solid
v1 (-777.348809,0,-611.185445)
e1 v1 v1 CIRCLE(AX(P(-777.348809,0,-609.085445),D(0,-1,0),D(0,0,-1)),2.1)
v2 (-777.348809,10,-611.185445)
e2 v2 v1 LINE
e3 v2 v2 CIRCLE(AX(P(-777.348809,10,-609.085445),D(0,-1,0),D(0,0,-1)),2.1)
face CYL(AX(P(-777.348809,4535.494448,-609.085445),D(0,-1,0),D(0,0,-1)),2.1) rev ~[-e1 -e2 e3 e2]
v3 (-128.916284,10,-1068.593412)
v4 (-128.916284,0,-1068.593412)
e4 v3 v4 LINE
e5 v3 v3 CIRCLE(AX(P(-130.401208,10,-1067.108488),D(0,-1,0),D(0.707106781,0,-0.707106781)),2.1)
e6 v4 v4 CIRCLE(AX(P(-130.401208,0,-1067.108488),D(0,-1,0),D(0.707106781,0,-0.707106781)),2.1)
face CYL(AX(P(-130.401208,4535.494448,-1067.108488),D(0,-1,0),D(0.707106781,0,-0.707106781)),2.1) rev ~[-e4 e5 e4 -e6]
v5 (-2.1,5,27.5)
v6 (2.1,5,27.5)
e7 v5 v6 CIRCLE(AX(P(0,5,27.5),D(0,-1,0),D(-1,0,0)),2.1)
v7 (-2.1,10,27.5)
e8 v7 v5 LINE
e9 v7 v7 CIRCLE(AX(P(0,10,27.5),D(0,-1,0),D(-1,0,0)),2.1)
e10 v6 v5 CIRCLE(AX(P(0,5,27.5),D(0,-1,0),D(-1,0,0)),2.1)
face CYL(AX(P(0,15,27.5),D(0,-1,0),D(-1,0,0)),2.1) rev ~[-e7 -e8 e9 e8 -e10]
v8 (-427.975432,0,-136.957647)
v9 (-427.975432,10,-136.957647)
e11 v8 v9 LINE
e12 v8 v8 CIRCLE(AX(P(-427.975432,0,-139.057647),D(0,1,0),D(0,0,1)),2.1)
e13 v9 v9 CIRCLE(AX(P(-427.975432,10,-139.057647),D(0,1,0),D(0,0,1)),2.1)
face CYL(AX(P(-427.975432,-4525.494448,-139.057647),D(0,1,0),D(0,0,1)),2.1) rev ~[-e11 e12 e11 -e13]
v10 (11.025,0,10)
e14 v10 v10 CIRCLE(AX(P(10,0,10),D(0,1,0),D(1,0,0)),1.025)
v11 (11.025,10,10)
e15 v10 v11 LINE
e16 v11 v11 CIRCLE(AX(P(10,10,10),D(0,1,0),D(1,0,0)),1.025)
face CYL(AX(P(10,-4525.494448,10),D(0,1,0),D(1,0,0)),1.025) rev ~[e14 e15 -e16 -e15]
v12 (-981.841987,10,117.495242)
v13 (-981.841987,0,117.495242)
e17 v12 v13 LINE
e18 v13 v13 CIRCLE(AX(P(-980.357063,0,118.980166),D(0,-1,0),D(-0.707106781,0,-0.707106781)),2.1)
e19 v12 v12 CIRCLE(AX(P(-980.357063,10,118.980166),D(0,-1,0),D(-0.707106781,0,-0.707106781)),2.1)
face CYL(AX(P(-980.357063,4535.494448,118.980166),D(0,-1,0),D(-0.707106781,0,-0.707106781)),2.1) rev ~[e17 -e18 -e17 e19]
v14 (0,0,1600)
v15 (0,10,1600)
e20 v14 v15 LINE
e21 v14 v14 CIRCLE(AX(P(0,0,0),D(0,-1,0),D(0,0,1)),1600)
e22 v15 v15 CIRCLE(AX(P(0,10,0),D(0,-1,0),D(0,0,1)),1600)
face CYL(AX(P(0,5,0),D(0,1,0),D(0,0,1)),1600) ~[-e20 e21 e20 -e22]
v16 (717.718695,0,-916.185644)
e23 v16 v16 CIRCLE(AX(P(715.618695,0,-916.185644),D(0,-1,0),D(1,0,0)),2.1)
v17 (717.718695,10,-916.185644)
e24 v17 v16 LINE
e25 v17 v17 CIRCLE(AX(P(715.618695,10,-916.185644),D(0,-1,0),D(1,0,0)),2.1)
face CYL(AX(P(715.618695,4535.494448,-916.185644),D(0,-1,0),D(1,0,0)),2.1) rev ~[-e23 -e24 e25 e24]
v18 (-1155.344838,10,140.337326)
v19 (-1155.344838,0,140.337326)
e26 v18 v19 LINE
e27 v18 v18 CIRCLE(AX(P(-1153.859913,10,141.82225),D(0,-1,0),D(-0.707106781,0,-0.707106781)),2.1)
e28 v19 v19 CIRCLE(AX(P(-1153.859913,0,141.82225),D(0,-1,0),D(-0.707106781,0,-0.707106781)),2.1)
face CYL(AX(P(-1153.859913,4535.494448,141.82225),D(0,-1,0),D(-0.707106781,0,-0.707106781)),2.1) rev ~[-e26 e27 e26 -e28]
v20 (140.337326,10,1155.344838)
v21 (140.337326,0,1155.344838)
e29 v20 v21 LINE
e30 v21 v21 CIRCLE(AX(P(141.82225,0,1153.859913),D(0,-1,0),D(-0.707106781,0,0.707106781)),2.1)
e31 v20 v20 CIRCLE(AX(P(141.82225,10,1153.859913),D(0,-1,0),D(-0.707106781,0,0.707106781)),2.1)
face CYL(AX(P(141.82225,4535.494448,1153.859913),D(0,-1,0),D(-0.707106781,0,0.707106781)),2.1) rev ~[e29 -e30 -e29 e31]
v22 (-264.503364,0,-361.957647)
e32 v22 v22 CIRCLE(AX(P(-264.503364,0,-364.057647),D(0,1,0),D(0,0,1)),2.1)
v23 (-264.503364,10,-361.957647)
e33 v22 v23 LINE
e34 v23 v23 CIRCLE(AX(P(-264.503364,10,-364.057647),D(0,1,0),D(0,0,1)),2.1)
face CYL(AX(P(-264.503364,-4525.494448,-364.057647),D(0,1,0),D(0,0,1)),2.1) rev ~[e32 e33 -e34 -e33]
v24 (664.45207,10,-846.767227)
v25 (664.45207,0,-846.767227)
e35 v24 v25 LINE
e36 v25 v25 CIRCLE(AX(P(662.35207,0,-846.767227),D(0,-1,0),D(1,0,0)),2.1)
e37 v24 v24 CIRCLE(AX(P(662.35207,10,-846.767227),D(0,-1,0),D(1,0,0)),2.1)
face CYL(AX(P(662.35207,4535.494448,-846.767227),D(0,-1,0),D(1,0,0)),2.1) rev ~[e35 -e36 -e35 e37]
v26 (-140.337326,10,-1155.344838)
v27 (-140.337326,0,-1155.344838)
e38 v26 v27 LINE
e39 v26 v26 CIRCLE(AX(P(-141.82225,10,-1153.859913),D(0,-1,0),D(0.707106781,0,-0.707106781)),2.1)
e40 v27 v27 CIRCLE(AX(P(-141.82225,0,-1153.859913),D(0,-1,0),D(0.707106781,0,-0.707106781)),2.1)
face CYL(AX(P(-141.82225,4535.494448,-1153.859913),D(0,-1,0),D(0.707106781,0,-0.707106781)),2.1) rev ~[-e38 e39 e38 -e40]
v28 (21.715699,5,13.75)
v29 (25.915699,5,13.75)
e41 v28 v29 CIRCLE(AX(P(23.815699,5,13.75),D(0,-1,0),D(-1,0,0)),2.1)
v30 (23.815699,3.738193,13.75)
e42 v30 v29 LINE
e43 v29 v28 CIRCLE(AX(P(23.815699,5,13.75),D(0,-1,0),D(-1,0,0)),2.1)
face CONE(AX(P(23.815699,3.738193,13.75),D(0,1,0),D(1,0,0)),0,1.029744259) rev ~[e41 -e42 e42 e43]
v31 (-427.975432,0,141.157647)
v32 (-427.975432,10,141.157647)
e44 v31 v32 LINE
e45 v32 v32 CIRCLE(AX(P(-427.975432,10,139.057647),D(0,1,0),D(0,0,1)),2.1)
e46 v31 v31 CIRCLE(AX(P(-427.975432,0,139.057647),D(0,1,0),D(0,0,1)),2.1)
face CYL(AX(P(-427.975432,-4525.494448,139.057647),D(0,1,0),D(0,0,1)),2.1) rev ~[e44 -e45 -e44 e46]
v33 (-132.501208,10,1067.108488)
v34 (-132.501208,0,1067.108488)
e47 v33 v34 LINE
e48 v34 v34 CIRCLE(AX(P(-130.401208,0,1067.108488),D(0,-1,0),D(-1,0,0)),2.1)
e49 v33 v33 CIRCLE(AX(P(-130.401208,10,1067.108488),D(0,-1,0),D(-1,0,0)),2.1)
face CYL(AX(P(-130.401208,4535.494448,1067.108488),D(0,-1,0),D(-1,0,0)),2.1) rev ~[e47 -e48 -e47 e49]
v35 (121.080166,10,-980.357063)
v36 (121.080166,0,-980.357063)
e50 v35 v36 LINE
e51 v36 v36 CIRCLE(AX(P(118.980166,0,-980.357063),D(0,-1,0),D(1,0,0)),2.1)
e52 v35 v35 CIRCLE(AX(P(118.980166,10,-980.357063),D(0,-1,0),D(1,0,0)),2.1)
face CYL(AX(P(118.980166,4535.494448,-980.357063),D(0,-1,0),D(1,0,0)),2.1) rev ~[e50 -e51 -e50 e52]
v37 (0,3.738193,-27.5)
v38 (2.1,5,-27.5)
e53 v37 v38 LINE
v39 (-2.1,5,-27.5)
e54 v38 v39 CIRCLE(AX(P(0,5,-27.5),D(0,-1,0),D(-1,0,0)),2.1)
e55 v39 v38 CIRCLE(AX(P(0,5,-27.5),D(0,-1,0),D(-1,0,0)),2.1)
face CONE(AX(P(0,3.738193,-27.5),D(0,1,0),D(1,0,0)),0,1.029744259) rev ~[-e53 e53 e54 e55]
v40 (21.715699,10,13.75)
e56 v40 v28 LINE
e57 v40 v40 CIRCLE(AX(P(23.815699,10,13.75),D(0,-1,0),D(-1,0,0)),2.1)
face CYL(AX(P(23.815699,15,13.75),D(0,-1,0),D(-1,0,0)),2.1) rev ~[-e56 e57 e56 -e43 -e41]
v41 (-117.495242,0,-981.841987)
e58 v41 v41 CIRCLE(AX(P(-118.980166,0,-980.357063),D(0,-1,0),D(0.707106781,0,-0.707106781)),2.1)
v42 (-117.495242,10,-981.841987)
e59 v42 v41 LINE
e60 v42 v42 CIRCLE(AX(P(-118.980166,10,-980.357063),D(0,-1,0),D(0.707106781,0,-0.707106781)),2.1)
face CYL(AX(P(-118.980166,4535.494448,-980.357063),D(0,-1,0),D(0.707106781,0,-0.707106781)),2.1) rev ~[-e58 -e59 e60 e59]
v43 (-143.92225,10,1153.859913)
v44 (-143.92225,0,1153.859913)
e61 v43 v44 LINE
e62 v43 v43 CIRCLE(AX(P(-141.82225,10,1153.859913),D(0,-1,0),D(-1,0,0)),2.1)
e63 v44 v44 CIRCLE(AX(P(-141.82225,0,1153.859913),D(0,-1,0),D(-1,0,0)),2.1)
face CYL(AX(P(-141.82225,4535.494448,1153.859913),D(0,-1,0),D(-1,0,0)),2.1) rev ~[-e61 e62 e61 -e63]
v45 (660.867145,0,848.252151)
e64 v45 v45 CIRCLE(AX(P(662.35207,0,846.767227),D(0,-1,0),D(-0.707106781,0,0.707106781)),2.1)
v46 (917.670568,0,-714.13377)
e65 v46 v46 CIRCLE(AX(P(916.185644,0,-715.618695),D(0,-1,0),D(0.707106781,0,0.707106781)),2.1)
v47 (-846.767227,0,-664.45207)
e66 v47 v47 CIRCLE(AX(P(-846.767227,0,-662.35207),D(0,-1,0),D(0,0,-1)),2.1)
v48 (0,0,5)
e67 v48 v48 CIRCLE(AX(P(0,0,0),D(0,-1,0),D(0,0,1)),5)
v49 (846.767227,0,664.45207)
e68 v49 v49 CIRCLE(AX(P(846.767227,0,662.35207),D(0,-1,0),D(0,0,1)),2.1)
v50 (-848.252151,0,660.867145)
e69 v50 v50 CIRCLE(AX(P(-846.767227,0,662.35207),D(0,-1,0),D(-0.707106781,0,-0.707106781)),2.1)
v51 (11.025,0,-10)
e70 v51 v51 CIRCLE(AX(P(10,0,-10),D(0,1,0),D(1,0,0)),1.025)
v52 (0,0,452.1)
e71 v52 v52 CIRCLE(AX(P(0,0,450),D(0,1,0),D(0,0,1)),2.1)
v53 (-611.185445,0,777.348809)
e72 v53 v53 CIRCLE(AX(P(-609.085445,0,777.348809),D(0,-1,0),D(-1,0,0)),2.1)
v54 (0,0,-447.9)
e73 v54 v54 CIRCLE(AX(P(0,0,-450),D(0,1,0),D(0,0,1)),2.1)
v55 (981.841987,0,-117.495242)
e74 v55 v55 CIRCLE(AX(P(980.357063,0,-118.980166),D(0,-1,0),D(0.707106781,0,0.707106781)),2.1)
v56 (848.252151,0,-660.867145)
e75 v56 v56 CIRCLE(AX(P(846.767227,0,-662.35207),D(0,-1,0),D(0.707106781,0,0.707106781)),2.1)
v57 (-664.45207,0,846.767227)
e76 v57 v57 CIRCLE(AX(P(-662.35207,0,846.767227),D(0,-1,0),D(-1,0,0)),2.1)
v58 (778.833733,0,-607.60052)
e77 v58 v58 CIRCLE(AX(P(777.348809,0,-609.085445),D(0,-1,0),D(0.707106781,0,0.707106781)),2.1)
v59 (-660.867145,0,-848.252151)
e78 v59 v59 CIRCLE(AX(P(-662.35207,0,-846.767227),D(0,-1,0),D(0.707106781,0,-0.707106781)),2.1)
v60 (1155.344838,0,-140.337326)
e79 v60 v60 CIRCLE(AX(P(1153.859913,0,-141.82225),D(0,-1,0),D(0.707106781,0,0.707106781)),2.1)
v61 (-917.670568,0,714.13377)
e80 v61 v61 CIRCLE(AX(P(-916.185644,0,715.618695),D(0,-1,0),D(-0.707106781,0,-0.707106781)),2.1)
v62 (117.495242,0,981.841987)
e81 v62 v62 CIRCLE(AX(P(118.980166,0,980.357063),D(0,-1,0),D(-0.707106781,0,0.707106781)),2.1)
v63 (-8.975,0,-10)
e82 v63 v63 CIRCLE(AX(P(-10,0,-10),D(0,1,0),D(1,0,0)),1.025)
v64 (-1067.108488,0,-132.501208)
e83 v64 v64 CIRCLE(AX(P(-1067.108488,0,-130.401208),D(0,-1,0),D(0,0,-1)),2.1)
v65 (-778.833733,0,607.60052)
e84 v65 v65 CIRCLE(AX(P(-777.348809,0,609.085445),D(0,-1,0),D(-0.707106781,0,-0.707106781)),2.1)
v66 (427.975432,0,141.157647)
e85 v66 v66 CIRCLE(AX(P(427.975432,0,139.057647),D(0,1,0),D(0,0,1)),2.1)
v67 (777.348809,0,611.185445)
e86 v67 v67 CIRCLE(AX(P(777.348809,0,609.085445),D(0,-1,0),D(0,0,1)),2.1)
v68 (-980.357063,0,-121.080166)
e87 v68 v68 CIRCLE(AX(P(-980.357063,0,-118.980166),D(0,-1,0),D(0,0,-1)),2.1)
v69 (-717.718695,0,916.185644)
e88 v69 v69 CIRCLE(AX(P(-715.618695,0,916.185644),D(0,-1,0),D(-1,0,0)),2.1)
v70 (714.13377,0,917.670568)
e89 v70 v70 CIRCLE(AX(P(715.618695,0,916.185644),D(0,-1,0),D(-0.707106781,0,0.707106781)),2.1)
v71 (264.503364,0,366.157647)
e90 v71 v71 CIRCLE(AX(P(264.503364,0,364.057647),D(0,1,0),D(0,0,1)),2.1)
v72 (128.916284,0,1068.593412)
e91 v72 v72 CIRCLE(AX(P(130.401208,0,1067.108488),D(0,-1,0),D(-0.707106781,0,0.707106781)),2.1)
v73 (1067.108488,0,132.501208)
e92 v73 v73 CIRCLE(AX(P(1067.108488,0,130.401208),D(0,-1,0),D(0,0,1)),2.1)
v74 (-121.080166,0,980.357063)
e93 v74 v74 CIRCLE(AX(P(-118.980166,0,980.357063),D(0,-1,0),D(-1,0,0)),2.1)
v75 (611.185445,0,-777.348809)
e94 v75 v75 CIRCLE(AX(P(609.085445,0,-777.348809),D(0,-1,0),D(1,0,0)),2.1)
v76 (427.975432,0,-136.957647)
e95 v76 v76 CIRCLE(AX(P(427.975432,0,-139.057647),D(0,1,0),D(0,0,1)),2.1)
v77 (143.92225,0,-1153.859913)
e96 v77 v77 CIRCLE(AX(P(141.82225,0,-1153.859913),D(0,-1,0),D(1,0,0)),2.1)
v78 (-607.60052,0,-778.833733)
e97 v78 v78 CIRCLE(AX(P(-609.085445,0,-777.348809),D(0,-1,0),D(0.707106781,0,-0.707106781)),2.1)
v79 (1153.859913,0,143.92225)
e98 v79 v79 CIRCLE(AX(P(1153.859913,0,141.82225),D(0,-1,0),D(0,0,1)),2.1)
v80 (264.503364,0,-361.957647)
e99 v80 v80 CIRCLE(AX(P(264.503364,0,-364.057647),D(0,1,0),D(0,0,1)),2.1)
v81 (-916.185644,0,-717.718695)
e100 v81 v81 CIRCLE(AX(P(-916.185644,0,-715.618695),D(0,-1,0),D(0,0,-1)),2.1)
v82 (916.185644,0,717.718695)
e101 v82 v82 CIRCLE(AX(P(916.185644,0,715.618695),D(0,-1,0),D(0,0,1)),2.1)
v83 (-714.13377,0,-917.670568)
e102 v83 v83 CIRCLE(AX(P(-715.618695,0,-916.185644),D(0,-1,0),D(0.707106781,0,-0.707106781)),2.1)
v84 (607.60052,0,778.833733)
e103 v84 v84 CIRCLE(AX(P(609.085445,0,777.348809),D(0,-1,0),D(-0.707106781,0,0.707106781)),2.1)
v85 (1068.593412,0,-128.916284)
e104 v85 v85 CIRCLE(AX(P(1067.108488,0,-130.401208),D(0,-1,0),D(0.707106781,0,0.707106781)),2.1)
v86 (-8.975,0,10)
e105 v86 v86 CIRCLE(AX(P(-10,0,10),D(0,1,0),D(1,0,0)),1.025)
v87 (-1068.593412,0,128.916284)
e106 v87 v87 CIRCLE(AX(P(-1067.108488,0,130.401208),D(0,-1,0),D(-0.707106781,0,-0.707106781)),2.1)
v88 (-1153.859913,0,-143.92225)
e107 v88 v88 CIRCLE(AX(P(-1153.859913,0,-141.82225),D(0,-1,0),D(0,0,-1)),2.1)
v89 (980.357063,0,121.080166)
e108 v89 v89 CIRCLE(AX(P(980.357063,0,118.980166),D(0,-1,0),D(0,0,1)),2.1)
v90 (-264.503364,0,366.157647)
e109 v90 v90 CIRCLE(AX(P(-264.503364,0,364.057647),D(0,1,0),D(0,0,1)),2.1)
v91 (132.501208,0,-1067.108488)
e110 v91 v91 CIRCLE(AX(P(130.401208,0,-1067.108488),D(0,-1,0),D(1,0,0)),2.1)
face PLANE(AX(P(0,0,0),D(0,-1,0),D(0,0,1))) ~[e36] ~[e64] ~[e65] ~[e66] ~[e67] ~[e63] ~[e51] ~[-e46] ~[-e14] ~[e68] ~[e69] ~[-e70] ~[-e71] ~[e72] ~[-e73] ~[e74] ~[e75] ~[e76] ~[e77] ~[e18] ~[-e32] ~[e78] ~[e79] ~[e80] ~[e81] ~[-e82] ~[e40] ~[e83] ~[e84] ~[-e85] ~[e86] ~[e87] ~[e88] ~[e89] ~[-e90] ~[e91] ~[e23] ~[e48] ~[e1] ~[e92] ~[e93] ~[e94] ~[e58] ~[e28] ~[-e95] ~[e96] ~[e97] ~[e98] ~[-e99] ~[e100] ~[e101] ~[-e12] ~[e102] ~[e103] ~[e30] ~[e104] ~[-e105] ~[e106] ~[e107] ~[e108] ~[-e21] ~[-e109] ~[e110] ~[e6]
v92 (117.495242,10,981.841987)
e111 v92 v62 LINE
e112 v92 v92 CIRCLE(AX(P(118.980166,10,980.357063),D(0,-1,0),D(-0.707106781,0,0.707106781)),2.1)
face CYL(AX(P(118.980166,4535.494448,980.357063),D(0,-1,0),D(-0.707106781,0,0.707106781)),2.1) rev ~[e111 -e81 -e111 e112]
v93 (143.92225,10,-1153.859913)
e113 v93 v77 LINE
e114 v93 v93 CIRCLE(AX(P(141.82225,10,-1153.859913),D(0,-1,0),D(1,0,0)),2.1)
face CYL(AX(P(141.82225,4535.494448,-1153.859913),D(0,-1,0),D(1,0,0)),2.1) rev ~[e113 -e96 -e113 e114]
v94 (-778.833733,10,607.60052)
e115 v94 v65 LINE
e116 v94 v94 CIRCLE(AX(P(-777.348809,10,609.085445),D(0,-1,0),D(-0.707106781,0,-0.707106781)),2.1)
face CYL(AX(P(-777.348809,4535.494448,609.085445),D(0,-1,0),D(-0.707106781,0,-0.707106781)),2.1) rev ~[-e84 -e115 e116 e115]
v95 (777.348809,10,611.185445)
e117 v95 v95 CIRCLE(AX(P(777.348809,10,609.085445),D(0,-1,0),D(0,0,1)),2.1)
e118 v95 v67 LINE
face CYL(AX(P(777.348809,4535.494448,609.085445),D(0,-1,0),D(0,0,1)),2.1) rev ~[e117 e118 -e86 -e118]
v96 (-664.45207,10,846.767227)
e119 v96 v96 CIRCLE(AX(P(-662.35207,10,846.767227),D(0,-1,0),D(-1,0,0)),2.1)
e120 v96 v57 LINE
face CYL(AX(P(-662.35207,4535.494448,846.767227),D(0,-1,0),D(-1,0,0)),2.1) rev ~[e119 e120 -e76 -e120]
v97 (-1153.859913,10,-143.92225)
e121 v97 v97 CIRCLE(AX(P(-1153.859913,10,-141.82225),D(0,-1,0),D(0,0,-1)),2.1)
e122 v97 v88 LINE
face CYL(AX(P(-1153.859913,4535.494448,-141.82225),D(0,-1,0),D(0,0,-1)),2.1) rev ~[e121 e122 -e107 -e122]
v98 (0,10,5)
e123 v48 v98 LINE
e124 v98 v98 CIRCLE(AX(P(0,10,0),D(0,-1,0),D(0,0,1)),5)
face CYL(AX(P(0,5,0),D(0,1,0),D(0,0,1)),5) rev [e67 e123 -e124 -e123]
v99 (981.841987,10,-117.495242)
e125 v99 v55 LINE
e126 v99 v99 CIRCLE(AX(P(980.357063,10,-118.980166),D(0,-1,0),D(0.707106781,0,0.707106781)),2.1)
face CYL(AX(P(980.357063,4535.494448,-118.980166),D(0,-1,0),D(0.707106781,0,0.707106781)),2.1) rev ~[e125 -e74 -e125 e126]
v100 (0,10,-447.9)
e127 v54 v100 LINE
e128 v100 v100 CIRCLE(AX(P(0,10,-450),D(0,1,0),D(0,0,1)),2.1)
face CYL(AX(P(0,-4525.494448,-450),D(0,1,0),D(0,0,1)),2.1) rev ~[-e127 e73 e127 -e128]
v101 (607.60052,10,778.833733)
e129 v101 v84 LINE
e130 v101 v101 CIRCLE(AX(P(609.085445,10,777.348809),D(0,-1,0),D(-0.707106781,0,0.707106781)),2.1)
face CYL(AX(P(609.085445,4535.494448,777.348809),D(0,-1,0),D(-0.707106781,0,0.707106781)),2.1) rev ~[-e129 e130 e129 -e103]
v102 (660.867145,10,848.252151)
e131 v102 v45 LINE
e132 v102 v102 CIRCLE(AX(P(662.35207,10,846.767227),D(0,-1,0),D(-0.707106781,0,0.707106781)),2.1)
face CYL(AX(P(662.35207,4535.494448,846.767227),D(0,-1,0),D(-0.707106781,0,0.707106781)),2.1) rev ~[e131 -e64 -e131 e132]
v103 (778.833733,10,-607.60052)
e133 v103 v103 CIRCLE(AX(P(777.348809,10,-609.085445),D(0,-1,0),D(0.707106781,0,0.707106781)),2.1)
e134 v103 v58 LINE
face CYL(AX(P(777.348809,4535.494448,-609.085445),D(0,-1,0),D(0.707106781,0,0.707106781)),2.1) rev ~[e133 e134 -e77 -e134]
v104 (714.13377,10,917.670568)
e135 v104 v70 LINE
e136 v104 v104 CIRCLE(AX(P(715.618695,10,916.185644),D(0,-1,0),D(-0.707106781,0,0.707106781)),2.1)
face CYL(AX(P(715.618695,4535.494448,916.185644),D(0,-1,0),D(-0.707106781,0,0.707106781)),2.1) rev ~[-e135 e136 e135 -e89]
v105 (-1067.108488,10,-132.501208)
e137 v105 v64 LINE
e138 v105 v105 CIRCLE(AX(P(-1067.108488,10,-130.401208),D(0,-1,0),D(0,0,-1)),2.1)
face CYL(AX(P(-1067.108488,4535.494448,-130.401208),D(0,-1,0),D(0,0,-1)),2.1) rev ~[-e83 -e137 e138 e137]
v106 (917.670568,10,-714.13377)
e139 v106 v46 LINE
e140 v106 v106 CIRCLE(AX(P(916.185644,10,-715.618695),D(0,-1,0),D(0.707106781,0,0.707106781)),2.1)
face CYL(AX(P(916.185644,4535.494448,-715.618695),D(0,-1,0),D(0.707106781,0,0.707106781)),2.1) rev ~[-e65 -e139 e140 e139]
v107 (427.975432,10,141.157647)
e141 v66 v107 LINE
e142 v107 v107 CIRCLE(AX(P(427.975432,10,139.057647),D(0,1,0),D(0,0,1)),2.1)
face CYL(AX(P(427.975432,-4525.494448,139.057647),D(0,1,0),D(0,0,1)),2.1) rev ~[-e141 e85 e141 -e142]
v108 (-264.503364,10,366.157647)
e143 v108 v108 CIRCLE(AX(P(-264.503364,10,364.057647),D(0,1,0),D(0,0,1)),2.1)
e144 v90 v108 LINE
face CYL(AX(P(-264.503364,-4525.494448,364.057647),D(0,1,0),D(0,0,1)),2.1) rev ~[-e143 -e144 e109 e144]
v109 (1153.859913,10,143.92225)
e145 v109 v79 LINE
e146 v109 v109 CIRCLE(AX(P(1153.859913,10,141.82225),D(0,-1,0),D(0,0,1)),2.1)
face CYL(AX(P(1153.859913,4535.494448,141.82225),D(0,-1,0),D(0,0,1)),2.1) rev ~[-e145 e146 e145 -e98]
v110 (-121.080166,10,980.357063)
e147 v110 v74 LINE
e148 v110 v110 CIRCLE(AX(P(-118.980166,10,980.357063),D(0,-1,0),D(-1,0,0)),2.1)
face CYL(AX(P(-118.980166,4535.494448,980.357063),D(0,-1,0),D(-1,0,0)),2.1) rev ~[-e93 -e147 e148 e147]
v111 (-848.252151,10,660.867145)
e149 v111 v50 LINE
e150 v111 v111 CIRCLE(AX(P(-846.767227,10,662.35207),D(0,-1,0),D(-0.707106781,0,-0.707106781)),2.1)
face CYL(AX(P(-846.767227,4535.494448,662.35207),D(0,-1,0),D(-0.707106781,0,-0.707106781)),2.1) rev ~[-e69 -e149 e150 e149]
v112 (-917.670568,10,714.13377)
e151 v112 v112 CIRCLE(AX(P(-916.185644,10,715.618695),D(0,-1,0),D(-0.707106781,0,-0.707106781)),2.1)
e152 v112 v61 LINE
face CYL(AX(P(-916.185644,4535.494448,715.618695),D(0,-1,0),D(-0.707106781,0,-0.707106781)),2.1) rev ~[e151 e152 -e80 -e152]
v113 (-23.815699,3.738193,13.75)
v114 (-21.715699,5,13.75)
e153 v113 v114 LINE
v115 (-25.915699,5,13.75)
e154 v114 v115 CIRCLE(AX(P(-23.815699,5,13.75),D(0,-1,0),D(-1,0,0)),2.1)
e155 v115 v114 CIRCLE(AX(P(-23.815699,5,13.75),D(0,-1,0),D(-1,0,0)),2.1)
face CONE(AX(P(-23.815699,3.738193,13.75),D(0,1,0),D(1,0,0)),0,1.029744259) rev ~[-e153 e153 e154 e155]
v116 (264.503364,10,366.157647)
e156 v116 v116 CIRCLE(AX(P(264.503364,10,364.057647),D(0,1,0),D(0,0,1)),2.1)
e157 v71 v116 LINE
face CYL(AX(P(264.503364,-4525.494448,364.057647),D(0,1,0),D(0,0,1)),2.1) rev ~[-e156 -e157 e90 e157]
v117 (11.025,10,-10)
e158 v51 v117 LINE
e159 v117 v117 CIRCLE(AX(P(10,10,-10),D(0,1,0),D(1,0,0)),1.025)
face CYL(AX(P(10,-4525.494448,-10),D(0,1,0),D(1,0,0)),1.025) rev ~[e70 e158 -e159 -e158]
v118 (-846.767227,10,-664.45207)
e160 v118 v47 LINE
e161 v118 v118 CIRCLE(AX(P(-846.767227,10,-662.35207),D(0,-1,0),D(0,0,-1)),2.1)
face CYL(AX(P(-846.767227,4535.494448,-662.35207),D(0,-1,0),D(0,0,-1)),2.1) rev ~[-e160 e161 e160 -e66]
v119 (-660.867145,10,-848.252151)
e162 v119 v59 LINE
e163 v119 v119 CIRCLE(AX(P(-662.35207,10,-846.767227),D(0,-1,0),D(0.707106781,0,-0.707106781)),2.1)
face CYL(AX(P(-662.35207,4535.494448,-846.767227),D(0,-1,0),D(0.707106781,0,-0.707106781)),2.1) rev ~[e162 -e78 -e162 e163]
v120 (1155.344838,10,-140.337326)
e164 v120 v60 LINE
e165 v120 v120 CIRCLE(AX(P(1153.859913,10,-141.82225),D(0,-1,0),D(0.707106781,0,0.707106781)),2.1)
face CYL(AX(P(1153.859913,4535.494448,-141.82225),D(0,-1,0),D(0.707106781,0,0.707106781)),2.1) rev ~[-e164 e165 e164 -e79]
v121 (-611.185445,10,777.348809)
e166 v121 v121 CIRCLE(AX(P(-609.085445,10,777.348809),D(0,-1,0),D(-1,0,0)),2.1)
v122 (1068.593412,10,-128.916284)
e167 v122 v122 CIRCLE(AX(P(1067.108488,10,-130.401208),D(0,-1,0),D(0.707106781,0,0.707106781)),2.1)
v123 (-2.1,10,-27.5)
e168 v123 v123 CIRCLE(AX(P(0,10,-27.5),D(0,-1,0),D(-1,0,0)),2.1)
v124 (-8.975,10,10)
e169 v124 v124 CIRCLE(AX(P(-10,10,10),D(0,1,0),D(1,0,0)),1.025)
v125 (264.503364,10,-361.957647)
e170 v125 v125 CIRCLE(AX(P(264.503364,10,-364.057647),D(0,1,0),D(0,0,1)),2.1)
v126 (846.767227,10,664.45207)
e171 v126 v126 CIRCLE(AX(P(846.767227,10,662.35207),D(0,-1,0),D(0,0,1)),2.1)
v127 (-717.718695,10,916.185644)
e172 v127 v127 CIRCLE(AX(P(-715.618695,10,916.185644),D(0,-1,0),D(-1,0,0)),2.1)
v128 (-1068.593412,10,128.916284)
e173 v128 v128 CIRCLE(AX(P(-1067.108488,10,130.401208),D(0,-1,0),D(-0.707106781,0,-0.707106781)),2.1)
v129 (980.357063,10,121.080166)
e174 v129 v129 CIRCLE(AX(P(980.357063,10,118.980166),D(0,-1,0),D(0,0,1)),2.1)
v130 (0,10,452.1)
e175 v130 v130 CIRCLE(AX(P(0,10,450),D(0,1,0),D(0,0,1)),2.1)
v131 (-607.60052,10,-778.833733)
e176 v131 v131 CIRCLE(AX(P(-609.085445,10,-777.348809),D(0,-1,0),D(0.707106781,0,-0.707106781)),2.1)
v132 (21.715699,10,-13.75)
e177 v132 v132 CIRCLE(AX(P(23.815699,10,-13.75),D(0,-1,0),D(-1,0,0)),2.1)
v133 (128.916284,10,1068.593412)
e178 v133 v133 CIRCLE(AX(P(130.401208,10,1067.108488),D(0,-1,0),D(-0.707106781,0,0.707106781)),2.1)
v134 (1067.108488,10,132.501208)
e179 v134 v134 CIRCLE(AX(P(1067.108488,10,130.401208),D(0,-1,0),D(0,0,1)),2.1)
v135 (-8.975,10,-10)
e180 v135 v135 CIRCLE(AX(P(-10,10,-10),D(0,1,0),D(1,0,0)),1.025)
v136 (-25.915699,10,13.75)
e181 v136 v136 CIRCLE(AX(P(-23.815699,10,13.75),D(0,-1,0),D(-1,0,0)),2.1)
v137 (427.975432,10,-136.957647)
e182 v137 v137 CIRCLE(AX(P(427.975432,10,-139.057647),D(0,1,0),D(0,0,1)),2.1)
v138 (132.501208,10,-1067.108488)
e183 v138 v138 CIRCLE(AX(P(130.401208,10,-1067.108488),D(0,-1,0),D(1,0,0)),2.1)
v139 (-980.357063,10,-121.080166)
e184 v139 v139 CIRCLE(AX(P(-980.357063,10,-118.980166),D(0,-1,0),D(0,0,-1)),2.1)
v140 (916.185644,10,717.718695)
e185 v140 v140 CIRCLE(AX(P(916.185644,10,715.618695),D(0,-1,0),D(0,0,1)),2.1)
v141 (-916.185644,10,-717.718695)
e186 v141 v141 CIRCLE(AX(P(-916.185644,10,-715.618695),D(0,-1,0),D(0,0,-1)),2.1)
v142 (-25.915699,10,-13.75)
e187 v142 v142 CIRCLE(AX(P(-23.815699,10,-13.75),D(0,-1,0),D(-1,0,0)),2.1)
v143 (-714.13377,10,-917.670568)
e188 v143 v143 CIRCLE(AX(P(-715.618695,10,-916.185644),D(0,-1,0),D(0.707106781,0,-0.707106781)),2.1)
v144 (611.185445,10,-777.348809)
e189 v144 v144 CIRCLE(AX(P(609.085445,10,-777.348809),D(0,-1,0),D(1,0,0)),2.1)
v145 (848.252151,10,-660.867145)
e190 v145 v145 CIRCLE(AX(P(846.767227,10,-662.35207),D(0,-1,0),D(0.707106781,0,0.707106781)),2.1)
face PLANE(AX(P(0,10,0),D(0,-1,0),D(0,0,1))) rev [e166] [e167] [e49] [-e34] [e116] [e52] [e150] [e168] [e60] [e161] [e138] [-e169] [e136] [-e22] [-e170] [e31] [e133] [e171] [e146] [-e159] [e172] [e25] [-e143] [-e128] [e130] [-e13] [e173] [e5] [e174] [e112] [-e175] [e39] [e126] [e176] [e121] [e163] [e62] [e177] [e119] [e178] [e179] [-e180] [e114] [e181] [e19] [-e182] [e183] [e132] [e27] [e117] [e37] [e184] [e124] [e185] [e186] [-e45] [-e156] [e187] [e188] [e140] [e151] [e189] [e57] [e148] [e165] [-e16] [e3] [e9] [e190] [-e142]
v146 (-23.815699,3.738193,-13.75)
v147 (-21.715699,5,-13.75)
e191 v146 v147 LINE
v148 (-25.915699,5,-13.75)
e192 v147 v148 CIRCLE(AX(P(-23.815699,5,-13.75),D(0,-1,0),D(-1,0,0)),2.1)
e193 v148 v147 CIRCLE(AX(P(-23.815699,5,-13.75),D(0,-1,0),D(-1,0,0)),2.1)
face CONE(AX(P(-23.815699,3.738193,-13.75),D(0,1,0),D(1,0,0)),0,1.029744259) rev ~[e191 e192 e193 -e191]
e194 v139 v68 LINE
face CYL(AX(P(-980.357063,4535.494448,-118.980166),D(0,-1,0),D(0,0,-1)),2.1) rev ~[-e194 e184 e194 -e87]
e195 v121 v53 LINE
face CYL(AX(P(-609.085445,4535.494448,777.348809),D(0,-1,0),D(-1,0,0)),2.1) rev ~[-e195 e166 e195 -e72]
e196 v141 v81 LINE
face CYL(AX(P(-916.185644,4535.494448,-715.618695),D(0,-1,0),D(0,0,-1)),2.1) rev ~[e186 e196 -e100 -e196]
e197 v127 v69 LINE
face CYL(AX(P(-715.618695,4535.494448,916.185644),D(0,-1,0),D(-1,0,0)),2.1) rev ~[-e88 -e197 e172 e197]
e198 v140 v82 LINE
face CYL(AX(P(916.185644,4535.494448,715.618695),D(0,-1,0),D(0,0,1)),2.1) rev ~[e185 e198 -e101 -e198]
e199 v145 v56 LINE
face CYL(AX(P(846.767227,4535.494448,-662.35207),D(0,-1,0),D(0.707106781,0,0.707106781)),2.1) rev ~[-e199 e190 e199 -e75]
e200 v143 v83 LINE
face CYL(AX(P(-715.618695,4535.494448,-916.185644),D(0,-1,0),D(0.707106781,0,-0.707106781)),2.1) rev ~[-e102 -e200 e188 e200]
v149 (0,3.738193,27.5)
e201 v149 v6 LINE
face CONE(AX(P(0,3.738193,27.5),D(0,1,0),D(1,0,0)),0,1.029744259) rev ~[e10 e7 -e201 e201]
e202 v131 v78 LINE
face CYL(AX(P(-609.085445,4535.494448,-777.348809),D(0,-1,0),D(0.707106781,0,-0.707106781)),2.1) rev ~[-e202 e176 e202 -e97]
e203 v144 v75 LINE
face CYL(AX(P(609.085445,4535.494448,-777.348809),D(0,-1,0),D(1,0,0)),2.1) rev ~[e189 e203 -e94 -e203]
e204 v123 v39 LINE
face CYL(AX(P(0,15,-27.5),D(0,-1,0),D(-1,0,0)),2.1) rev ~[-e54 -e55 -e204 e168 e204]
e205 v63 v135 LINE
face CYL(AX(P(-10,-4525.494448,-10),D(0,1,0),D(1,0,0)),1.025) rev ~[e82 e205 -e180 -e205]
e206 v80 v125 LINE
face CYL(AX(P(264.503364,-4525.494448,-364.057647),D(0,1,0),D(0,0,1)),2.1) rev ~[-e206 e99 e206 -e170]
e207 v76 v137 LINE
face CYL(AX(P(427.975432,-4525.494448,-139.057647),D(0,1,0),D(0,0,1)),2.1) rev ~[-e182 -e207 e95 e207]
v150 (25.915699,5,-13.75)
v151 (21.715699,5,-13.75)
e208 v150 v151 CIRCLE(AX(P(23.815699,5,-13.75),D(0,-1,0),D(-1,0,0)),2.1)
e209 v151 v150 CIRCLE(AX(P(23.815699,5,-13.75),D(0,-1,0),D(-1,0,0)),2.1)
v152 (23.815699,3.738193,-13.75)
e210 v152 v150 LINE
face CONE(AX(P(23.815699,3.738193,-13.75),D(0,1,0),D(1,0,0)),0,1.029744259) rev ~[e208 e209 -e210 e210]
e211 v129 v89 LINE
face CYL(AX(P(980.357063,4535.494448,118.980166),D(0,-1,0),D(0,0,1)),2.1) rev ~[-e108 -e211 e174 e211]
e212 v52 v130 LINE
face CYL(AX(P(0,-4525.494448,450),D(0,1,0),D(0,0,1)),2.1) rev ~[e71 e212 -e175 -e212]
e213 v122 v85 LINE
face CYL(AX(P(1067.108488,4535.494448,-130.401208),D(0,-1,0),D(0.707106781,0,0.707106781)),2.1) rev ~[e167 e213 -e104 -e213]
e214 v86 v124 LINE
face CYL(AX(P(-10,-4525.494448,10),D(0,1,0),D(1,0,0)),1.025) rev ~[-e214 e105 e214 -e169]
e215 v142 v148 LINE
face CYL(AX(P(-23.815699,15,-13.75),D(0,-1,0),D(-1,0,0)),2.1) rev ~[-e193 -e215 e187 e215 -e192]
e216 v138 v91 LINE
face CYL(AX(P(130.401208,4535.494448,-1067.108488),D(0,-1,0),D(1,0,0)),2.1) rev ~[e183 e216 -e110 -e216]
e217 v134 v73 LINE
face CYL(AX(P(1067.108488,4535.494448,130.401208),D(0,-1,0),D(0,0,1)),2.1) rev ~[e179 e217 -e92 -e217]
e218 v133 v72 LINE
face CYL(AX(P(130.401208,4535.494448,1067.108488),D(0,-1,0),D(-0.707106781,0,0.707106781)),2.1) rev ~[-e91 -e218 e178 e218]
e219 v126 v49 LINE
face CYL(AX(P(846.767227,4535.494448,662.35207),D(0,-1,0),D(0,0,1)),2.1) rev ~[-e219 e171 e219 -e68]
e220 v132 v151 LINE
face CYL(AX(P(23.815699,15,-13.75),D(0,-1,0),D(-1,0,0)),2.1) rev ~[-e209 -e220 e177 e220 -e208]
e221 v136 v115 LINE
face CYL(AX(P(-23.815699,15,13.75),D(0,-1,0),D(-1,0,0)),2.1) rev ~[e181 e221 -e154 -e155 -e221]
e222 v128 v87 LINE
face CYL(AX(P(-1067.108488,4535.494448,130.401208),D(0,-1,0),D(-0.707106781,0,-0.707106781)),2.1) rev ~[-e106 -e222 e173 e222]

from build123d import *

# Parameters (mm, degrees)
SKETCH_1_W               = 1595
SKETCH_1_H               = 10
HOLE_WIZARD_M51_D        = 4.2
HOLE_WIZARD_M52_D        = 4.2
PATTERN_CIRCULAR_1_COUNT = 8
HOLE_WIZARD_M2_51_D      = 2.05
HOLE_WIZARD_M54_D        = 4.2
HOLE_WIZARD_M54_DEPTH    = 5
HOLE_WIZARD_M54_TIP      = 1.2618073


with BuildPart() as part:
    # Эскиз1 → Повернуть1 (revolve)
    with BuildSketch(Plane(origin=(0, 0, 0), x_dir=(0, 0, -1), z_dir=(1, 0, 0)), mode=Mode.PRIVATE) as revolve_1_sk:
        with Locations((802.5, 5)):
            Rectangle(SKETCH_1_W, SKETCH_1_H)
    revolve(revolve_1_sk.sketch.rotate(Axis((0, 18.050059897, 0), (0, -1, 0)), 180), axis=Axis((0, 18.050059897, 0), (0, -1, 0)))

    # Отверстие обработанное метчиком M51 (through all)
    with Locations(Plane(origin=(0, 0, 450), x_dir=(0, 0, -1), z_dir=(0, -1, 0))):
        with Locations((0, 0), (85.942352531, 264.503363532), (310.942352531, 427.975432333), (589.057647469, 427.975432333), (814.057647469, 264.503363532), (900, 0), (814.057647469, -264.503363532), (589.057647469, -427.975432333), (310.942352531, -427.975432333), (85.942352531, -264.503363532)):
            Hole(HOLE_WIZARD_M51_D / 2)

    # Отверстие обработанное метчиком M52 (through all)
    with Locations(Plane(origin=(0, 10, 0), x_dir=(1, 0, 0), z_dir=(0, 1, 0))):
        with Locations((-118.980166204, -980.357062529), (-130.401208023, -1067.108487899), (-141.822249842, -1153.859913269), (-609.085444549, -777.348809248), (-662.352069587, -846.767226523), (-715.618694626, -916.185643798)):
            hole_wizard_m52 = Hole(HOLE_WIZARD_M52_D / 2)

    # Круговой массив1: Отверстие обработанное метчиком M52 ×8 about axis
    pattern_circular_1_axis = Axis((0, 0, 0), (0, 1, 0))
    for i in range(1, PATTERN_CIRCULAR_1_COUNT):
        add(hole_wizard_m52.rotate(pattern_circular_1_axis, i * 360 / PATTERN_CIRCULAR_1_COUNT), mode=Mode.SUBTRACT)

    # Отверстие обработанное метчиком M2.51 (through all)
    with Locations(Plane(origin=(0, 0, 0), x_dir=(-1, 0, 0), z_dir=(0, -1, 0))):
        with Locations((10, -10), (-10, -10), (-10, 10), (10, 10)):
            Hole(HOLE_WIZARD_M2_51_D / 2)

    # Отверстие обработанное метчиком M54
    with Locations(Plane(origin=(0, 10, 0), x_dir=(1, 0, 0), z_dir=(0, 1, 0))):
        with Locations((0, 27.5), (-23.815698604, 13.75), (23.815698604, 13.75), (23.815698604, -13.75), (0, -27.5), (-23.815698604, -13.75)):
            Hole(HOLE_WIZARD_M54_D / 2, depth=HOLE_WIZARD_M54_DEPTH)
            with Locations((0, 0, -(HOLE_WIZARD_M54_DEPTH + HOLE_WIZARD_M54_TIP / 2))):  # 118° drill point
                Cone(0, HOLE_WIZARD_M54_D / 2, HOLE_WIZARD_M54_TIP, mode=Mode.SUBTRACT)


solid = part.part
